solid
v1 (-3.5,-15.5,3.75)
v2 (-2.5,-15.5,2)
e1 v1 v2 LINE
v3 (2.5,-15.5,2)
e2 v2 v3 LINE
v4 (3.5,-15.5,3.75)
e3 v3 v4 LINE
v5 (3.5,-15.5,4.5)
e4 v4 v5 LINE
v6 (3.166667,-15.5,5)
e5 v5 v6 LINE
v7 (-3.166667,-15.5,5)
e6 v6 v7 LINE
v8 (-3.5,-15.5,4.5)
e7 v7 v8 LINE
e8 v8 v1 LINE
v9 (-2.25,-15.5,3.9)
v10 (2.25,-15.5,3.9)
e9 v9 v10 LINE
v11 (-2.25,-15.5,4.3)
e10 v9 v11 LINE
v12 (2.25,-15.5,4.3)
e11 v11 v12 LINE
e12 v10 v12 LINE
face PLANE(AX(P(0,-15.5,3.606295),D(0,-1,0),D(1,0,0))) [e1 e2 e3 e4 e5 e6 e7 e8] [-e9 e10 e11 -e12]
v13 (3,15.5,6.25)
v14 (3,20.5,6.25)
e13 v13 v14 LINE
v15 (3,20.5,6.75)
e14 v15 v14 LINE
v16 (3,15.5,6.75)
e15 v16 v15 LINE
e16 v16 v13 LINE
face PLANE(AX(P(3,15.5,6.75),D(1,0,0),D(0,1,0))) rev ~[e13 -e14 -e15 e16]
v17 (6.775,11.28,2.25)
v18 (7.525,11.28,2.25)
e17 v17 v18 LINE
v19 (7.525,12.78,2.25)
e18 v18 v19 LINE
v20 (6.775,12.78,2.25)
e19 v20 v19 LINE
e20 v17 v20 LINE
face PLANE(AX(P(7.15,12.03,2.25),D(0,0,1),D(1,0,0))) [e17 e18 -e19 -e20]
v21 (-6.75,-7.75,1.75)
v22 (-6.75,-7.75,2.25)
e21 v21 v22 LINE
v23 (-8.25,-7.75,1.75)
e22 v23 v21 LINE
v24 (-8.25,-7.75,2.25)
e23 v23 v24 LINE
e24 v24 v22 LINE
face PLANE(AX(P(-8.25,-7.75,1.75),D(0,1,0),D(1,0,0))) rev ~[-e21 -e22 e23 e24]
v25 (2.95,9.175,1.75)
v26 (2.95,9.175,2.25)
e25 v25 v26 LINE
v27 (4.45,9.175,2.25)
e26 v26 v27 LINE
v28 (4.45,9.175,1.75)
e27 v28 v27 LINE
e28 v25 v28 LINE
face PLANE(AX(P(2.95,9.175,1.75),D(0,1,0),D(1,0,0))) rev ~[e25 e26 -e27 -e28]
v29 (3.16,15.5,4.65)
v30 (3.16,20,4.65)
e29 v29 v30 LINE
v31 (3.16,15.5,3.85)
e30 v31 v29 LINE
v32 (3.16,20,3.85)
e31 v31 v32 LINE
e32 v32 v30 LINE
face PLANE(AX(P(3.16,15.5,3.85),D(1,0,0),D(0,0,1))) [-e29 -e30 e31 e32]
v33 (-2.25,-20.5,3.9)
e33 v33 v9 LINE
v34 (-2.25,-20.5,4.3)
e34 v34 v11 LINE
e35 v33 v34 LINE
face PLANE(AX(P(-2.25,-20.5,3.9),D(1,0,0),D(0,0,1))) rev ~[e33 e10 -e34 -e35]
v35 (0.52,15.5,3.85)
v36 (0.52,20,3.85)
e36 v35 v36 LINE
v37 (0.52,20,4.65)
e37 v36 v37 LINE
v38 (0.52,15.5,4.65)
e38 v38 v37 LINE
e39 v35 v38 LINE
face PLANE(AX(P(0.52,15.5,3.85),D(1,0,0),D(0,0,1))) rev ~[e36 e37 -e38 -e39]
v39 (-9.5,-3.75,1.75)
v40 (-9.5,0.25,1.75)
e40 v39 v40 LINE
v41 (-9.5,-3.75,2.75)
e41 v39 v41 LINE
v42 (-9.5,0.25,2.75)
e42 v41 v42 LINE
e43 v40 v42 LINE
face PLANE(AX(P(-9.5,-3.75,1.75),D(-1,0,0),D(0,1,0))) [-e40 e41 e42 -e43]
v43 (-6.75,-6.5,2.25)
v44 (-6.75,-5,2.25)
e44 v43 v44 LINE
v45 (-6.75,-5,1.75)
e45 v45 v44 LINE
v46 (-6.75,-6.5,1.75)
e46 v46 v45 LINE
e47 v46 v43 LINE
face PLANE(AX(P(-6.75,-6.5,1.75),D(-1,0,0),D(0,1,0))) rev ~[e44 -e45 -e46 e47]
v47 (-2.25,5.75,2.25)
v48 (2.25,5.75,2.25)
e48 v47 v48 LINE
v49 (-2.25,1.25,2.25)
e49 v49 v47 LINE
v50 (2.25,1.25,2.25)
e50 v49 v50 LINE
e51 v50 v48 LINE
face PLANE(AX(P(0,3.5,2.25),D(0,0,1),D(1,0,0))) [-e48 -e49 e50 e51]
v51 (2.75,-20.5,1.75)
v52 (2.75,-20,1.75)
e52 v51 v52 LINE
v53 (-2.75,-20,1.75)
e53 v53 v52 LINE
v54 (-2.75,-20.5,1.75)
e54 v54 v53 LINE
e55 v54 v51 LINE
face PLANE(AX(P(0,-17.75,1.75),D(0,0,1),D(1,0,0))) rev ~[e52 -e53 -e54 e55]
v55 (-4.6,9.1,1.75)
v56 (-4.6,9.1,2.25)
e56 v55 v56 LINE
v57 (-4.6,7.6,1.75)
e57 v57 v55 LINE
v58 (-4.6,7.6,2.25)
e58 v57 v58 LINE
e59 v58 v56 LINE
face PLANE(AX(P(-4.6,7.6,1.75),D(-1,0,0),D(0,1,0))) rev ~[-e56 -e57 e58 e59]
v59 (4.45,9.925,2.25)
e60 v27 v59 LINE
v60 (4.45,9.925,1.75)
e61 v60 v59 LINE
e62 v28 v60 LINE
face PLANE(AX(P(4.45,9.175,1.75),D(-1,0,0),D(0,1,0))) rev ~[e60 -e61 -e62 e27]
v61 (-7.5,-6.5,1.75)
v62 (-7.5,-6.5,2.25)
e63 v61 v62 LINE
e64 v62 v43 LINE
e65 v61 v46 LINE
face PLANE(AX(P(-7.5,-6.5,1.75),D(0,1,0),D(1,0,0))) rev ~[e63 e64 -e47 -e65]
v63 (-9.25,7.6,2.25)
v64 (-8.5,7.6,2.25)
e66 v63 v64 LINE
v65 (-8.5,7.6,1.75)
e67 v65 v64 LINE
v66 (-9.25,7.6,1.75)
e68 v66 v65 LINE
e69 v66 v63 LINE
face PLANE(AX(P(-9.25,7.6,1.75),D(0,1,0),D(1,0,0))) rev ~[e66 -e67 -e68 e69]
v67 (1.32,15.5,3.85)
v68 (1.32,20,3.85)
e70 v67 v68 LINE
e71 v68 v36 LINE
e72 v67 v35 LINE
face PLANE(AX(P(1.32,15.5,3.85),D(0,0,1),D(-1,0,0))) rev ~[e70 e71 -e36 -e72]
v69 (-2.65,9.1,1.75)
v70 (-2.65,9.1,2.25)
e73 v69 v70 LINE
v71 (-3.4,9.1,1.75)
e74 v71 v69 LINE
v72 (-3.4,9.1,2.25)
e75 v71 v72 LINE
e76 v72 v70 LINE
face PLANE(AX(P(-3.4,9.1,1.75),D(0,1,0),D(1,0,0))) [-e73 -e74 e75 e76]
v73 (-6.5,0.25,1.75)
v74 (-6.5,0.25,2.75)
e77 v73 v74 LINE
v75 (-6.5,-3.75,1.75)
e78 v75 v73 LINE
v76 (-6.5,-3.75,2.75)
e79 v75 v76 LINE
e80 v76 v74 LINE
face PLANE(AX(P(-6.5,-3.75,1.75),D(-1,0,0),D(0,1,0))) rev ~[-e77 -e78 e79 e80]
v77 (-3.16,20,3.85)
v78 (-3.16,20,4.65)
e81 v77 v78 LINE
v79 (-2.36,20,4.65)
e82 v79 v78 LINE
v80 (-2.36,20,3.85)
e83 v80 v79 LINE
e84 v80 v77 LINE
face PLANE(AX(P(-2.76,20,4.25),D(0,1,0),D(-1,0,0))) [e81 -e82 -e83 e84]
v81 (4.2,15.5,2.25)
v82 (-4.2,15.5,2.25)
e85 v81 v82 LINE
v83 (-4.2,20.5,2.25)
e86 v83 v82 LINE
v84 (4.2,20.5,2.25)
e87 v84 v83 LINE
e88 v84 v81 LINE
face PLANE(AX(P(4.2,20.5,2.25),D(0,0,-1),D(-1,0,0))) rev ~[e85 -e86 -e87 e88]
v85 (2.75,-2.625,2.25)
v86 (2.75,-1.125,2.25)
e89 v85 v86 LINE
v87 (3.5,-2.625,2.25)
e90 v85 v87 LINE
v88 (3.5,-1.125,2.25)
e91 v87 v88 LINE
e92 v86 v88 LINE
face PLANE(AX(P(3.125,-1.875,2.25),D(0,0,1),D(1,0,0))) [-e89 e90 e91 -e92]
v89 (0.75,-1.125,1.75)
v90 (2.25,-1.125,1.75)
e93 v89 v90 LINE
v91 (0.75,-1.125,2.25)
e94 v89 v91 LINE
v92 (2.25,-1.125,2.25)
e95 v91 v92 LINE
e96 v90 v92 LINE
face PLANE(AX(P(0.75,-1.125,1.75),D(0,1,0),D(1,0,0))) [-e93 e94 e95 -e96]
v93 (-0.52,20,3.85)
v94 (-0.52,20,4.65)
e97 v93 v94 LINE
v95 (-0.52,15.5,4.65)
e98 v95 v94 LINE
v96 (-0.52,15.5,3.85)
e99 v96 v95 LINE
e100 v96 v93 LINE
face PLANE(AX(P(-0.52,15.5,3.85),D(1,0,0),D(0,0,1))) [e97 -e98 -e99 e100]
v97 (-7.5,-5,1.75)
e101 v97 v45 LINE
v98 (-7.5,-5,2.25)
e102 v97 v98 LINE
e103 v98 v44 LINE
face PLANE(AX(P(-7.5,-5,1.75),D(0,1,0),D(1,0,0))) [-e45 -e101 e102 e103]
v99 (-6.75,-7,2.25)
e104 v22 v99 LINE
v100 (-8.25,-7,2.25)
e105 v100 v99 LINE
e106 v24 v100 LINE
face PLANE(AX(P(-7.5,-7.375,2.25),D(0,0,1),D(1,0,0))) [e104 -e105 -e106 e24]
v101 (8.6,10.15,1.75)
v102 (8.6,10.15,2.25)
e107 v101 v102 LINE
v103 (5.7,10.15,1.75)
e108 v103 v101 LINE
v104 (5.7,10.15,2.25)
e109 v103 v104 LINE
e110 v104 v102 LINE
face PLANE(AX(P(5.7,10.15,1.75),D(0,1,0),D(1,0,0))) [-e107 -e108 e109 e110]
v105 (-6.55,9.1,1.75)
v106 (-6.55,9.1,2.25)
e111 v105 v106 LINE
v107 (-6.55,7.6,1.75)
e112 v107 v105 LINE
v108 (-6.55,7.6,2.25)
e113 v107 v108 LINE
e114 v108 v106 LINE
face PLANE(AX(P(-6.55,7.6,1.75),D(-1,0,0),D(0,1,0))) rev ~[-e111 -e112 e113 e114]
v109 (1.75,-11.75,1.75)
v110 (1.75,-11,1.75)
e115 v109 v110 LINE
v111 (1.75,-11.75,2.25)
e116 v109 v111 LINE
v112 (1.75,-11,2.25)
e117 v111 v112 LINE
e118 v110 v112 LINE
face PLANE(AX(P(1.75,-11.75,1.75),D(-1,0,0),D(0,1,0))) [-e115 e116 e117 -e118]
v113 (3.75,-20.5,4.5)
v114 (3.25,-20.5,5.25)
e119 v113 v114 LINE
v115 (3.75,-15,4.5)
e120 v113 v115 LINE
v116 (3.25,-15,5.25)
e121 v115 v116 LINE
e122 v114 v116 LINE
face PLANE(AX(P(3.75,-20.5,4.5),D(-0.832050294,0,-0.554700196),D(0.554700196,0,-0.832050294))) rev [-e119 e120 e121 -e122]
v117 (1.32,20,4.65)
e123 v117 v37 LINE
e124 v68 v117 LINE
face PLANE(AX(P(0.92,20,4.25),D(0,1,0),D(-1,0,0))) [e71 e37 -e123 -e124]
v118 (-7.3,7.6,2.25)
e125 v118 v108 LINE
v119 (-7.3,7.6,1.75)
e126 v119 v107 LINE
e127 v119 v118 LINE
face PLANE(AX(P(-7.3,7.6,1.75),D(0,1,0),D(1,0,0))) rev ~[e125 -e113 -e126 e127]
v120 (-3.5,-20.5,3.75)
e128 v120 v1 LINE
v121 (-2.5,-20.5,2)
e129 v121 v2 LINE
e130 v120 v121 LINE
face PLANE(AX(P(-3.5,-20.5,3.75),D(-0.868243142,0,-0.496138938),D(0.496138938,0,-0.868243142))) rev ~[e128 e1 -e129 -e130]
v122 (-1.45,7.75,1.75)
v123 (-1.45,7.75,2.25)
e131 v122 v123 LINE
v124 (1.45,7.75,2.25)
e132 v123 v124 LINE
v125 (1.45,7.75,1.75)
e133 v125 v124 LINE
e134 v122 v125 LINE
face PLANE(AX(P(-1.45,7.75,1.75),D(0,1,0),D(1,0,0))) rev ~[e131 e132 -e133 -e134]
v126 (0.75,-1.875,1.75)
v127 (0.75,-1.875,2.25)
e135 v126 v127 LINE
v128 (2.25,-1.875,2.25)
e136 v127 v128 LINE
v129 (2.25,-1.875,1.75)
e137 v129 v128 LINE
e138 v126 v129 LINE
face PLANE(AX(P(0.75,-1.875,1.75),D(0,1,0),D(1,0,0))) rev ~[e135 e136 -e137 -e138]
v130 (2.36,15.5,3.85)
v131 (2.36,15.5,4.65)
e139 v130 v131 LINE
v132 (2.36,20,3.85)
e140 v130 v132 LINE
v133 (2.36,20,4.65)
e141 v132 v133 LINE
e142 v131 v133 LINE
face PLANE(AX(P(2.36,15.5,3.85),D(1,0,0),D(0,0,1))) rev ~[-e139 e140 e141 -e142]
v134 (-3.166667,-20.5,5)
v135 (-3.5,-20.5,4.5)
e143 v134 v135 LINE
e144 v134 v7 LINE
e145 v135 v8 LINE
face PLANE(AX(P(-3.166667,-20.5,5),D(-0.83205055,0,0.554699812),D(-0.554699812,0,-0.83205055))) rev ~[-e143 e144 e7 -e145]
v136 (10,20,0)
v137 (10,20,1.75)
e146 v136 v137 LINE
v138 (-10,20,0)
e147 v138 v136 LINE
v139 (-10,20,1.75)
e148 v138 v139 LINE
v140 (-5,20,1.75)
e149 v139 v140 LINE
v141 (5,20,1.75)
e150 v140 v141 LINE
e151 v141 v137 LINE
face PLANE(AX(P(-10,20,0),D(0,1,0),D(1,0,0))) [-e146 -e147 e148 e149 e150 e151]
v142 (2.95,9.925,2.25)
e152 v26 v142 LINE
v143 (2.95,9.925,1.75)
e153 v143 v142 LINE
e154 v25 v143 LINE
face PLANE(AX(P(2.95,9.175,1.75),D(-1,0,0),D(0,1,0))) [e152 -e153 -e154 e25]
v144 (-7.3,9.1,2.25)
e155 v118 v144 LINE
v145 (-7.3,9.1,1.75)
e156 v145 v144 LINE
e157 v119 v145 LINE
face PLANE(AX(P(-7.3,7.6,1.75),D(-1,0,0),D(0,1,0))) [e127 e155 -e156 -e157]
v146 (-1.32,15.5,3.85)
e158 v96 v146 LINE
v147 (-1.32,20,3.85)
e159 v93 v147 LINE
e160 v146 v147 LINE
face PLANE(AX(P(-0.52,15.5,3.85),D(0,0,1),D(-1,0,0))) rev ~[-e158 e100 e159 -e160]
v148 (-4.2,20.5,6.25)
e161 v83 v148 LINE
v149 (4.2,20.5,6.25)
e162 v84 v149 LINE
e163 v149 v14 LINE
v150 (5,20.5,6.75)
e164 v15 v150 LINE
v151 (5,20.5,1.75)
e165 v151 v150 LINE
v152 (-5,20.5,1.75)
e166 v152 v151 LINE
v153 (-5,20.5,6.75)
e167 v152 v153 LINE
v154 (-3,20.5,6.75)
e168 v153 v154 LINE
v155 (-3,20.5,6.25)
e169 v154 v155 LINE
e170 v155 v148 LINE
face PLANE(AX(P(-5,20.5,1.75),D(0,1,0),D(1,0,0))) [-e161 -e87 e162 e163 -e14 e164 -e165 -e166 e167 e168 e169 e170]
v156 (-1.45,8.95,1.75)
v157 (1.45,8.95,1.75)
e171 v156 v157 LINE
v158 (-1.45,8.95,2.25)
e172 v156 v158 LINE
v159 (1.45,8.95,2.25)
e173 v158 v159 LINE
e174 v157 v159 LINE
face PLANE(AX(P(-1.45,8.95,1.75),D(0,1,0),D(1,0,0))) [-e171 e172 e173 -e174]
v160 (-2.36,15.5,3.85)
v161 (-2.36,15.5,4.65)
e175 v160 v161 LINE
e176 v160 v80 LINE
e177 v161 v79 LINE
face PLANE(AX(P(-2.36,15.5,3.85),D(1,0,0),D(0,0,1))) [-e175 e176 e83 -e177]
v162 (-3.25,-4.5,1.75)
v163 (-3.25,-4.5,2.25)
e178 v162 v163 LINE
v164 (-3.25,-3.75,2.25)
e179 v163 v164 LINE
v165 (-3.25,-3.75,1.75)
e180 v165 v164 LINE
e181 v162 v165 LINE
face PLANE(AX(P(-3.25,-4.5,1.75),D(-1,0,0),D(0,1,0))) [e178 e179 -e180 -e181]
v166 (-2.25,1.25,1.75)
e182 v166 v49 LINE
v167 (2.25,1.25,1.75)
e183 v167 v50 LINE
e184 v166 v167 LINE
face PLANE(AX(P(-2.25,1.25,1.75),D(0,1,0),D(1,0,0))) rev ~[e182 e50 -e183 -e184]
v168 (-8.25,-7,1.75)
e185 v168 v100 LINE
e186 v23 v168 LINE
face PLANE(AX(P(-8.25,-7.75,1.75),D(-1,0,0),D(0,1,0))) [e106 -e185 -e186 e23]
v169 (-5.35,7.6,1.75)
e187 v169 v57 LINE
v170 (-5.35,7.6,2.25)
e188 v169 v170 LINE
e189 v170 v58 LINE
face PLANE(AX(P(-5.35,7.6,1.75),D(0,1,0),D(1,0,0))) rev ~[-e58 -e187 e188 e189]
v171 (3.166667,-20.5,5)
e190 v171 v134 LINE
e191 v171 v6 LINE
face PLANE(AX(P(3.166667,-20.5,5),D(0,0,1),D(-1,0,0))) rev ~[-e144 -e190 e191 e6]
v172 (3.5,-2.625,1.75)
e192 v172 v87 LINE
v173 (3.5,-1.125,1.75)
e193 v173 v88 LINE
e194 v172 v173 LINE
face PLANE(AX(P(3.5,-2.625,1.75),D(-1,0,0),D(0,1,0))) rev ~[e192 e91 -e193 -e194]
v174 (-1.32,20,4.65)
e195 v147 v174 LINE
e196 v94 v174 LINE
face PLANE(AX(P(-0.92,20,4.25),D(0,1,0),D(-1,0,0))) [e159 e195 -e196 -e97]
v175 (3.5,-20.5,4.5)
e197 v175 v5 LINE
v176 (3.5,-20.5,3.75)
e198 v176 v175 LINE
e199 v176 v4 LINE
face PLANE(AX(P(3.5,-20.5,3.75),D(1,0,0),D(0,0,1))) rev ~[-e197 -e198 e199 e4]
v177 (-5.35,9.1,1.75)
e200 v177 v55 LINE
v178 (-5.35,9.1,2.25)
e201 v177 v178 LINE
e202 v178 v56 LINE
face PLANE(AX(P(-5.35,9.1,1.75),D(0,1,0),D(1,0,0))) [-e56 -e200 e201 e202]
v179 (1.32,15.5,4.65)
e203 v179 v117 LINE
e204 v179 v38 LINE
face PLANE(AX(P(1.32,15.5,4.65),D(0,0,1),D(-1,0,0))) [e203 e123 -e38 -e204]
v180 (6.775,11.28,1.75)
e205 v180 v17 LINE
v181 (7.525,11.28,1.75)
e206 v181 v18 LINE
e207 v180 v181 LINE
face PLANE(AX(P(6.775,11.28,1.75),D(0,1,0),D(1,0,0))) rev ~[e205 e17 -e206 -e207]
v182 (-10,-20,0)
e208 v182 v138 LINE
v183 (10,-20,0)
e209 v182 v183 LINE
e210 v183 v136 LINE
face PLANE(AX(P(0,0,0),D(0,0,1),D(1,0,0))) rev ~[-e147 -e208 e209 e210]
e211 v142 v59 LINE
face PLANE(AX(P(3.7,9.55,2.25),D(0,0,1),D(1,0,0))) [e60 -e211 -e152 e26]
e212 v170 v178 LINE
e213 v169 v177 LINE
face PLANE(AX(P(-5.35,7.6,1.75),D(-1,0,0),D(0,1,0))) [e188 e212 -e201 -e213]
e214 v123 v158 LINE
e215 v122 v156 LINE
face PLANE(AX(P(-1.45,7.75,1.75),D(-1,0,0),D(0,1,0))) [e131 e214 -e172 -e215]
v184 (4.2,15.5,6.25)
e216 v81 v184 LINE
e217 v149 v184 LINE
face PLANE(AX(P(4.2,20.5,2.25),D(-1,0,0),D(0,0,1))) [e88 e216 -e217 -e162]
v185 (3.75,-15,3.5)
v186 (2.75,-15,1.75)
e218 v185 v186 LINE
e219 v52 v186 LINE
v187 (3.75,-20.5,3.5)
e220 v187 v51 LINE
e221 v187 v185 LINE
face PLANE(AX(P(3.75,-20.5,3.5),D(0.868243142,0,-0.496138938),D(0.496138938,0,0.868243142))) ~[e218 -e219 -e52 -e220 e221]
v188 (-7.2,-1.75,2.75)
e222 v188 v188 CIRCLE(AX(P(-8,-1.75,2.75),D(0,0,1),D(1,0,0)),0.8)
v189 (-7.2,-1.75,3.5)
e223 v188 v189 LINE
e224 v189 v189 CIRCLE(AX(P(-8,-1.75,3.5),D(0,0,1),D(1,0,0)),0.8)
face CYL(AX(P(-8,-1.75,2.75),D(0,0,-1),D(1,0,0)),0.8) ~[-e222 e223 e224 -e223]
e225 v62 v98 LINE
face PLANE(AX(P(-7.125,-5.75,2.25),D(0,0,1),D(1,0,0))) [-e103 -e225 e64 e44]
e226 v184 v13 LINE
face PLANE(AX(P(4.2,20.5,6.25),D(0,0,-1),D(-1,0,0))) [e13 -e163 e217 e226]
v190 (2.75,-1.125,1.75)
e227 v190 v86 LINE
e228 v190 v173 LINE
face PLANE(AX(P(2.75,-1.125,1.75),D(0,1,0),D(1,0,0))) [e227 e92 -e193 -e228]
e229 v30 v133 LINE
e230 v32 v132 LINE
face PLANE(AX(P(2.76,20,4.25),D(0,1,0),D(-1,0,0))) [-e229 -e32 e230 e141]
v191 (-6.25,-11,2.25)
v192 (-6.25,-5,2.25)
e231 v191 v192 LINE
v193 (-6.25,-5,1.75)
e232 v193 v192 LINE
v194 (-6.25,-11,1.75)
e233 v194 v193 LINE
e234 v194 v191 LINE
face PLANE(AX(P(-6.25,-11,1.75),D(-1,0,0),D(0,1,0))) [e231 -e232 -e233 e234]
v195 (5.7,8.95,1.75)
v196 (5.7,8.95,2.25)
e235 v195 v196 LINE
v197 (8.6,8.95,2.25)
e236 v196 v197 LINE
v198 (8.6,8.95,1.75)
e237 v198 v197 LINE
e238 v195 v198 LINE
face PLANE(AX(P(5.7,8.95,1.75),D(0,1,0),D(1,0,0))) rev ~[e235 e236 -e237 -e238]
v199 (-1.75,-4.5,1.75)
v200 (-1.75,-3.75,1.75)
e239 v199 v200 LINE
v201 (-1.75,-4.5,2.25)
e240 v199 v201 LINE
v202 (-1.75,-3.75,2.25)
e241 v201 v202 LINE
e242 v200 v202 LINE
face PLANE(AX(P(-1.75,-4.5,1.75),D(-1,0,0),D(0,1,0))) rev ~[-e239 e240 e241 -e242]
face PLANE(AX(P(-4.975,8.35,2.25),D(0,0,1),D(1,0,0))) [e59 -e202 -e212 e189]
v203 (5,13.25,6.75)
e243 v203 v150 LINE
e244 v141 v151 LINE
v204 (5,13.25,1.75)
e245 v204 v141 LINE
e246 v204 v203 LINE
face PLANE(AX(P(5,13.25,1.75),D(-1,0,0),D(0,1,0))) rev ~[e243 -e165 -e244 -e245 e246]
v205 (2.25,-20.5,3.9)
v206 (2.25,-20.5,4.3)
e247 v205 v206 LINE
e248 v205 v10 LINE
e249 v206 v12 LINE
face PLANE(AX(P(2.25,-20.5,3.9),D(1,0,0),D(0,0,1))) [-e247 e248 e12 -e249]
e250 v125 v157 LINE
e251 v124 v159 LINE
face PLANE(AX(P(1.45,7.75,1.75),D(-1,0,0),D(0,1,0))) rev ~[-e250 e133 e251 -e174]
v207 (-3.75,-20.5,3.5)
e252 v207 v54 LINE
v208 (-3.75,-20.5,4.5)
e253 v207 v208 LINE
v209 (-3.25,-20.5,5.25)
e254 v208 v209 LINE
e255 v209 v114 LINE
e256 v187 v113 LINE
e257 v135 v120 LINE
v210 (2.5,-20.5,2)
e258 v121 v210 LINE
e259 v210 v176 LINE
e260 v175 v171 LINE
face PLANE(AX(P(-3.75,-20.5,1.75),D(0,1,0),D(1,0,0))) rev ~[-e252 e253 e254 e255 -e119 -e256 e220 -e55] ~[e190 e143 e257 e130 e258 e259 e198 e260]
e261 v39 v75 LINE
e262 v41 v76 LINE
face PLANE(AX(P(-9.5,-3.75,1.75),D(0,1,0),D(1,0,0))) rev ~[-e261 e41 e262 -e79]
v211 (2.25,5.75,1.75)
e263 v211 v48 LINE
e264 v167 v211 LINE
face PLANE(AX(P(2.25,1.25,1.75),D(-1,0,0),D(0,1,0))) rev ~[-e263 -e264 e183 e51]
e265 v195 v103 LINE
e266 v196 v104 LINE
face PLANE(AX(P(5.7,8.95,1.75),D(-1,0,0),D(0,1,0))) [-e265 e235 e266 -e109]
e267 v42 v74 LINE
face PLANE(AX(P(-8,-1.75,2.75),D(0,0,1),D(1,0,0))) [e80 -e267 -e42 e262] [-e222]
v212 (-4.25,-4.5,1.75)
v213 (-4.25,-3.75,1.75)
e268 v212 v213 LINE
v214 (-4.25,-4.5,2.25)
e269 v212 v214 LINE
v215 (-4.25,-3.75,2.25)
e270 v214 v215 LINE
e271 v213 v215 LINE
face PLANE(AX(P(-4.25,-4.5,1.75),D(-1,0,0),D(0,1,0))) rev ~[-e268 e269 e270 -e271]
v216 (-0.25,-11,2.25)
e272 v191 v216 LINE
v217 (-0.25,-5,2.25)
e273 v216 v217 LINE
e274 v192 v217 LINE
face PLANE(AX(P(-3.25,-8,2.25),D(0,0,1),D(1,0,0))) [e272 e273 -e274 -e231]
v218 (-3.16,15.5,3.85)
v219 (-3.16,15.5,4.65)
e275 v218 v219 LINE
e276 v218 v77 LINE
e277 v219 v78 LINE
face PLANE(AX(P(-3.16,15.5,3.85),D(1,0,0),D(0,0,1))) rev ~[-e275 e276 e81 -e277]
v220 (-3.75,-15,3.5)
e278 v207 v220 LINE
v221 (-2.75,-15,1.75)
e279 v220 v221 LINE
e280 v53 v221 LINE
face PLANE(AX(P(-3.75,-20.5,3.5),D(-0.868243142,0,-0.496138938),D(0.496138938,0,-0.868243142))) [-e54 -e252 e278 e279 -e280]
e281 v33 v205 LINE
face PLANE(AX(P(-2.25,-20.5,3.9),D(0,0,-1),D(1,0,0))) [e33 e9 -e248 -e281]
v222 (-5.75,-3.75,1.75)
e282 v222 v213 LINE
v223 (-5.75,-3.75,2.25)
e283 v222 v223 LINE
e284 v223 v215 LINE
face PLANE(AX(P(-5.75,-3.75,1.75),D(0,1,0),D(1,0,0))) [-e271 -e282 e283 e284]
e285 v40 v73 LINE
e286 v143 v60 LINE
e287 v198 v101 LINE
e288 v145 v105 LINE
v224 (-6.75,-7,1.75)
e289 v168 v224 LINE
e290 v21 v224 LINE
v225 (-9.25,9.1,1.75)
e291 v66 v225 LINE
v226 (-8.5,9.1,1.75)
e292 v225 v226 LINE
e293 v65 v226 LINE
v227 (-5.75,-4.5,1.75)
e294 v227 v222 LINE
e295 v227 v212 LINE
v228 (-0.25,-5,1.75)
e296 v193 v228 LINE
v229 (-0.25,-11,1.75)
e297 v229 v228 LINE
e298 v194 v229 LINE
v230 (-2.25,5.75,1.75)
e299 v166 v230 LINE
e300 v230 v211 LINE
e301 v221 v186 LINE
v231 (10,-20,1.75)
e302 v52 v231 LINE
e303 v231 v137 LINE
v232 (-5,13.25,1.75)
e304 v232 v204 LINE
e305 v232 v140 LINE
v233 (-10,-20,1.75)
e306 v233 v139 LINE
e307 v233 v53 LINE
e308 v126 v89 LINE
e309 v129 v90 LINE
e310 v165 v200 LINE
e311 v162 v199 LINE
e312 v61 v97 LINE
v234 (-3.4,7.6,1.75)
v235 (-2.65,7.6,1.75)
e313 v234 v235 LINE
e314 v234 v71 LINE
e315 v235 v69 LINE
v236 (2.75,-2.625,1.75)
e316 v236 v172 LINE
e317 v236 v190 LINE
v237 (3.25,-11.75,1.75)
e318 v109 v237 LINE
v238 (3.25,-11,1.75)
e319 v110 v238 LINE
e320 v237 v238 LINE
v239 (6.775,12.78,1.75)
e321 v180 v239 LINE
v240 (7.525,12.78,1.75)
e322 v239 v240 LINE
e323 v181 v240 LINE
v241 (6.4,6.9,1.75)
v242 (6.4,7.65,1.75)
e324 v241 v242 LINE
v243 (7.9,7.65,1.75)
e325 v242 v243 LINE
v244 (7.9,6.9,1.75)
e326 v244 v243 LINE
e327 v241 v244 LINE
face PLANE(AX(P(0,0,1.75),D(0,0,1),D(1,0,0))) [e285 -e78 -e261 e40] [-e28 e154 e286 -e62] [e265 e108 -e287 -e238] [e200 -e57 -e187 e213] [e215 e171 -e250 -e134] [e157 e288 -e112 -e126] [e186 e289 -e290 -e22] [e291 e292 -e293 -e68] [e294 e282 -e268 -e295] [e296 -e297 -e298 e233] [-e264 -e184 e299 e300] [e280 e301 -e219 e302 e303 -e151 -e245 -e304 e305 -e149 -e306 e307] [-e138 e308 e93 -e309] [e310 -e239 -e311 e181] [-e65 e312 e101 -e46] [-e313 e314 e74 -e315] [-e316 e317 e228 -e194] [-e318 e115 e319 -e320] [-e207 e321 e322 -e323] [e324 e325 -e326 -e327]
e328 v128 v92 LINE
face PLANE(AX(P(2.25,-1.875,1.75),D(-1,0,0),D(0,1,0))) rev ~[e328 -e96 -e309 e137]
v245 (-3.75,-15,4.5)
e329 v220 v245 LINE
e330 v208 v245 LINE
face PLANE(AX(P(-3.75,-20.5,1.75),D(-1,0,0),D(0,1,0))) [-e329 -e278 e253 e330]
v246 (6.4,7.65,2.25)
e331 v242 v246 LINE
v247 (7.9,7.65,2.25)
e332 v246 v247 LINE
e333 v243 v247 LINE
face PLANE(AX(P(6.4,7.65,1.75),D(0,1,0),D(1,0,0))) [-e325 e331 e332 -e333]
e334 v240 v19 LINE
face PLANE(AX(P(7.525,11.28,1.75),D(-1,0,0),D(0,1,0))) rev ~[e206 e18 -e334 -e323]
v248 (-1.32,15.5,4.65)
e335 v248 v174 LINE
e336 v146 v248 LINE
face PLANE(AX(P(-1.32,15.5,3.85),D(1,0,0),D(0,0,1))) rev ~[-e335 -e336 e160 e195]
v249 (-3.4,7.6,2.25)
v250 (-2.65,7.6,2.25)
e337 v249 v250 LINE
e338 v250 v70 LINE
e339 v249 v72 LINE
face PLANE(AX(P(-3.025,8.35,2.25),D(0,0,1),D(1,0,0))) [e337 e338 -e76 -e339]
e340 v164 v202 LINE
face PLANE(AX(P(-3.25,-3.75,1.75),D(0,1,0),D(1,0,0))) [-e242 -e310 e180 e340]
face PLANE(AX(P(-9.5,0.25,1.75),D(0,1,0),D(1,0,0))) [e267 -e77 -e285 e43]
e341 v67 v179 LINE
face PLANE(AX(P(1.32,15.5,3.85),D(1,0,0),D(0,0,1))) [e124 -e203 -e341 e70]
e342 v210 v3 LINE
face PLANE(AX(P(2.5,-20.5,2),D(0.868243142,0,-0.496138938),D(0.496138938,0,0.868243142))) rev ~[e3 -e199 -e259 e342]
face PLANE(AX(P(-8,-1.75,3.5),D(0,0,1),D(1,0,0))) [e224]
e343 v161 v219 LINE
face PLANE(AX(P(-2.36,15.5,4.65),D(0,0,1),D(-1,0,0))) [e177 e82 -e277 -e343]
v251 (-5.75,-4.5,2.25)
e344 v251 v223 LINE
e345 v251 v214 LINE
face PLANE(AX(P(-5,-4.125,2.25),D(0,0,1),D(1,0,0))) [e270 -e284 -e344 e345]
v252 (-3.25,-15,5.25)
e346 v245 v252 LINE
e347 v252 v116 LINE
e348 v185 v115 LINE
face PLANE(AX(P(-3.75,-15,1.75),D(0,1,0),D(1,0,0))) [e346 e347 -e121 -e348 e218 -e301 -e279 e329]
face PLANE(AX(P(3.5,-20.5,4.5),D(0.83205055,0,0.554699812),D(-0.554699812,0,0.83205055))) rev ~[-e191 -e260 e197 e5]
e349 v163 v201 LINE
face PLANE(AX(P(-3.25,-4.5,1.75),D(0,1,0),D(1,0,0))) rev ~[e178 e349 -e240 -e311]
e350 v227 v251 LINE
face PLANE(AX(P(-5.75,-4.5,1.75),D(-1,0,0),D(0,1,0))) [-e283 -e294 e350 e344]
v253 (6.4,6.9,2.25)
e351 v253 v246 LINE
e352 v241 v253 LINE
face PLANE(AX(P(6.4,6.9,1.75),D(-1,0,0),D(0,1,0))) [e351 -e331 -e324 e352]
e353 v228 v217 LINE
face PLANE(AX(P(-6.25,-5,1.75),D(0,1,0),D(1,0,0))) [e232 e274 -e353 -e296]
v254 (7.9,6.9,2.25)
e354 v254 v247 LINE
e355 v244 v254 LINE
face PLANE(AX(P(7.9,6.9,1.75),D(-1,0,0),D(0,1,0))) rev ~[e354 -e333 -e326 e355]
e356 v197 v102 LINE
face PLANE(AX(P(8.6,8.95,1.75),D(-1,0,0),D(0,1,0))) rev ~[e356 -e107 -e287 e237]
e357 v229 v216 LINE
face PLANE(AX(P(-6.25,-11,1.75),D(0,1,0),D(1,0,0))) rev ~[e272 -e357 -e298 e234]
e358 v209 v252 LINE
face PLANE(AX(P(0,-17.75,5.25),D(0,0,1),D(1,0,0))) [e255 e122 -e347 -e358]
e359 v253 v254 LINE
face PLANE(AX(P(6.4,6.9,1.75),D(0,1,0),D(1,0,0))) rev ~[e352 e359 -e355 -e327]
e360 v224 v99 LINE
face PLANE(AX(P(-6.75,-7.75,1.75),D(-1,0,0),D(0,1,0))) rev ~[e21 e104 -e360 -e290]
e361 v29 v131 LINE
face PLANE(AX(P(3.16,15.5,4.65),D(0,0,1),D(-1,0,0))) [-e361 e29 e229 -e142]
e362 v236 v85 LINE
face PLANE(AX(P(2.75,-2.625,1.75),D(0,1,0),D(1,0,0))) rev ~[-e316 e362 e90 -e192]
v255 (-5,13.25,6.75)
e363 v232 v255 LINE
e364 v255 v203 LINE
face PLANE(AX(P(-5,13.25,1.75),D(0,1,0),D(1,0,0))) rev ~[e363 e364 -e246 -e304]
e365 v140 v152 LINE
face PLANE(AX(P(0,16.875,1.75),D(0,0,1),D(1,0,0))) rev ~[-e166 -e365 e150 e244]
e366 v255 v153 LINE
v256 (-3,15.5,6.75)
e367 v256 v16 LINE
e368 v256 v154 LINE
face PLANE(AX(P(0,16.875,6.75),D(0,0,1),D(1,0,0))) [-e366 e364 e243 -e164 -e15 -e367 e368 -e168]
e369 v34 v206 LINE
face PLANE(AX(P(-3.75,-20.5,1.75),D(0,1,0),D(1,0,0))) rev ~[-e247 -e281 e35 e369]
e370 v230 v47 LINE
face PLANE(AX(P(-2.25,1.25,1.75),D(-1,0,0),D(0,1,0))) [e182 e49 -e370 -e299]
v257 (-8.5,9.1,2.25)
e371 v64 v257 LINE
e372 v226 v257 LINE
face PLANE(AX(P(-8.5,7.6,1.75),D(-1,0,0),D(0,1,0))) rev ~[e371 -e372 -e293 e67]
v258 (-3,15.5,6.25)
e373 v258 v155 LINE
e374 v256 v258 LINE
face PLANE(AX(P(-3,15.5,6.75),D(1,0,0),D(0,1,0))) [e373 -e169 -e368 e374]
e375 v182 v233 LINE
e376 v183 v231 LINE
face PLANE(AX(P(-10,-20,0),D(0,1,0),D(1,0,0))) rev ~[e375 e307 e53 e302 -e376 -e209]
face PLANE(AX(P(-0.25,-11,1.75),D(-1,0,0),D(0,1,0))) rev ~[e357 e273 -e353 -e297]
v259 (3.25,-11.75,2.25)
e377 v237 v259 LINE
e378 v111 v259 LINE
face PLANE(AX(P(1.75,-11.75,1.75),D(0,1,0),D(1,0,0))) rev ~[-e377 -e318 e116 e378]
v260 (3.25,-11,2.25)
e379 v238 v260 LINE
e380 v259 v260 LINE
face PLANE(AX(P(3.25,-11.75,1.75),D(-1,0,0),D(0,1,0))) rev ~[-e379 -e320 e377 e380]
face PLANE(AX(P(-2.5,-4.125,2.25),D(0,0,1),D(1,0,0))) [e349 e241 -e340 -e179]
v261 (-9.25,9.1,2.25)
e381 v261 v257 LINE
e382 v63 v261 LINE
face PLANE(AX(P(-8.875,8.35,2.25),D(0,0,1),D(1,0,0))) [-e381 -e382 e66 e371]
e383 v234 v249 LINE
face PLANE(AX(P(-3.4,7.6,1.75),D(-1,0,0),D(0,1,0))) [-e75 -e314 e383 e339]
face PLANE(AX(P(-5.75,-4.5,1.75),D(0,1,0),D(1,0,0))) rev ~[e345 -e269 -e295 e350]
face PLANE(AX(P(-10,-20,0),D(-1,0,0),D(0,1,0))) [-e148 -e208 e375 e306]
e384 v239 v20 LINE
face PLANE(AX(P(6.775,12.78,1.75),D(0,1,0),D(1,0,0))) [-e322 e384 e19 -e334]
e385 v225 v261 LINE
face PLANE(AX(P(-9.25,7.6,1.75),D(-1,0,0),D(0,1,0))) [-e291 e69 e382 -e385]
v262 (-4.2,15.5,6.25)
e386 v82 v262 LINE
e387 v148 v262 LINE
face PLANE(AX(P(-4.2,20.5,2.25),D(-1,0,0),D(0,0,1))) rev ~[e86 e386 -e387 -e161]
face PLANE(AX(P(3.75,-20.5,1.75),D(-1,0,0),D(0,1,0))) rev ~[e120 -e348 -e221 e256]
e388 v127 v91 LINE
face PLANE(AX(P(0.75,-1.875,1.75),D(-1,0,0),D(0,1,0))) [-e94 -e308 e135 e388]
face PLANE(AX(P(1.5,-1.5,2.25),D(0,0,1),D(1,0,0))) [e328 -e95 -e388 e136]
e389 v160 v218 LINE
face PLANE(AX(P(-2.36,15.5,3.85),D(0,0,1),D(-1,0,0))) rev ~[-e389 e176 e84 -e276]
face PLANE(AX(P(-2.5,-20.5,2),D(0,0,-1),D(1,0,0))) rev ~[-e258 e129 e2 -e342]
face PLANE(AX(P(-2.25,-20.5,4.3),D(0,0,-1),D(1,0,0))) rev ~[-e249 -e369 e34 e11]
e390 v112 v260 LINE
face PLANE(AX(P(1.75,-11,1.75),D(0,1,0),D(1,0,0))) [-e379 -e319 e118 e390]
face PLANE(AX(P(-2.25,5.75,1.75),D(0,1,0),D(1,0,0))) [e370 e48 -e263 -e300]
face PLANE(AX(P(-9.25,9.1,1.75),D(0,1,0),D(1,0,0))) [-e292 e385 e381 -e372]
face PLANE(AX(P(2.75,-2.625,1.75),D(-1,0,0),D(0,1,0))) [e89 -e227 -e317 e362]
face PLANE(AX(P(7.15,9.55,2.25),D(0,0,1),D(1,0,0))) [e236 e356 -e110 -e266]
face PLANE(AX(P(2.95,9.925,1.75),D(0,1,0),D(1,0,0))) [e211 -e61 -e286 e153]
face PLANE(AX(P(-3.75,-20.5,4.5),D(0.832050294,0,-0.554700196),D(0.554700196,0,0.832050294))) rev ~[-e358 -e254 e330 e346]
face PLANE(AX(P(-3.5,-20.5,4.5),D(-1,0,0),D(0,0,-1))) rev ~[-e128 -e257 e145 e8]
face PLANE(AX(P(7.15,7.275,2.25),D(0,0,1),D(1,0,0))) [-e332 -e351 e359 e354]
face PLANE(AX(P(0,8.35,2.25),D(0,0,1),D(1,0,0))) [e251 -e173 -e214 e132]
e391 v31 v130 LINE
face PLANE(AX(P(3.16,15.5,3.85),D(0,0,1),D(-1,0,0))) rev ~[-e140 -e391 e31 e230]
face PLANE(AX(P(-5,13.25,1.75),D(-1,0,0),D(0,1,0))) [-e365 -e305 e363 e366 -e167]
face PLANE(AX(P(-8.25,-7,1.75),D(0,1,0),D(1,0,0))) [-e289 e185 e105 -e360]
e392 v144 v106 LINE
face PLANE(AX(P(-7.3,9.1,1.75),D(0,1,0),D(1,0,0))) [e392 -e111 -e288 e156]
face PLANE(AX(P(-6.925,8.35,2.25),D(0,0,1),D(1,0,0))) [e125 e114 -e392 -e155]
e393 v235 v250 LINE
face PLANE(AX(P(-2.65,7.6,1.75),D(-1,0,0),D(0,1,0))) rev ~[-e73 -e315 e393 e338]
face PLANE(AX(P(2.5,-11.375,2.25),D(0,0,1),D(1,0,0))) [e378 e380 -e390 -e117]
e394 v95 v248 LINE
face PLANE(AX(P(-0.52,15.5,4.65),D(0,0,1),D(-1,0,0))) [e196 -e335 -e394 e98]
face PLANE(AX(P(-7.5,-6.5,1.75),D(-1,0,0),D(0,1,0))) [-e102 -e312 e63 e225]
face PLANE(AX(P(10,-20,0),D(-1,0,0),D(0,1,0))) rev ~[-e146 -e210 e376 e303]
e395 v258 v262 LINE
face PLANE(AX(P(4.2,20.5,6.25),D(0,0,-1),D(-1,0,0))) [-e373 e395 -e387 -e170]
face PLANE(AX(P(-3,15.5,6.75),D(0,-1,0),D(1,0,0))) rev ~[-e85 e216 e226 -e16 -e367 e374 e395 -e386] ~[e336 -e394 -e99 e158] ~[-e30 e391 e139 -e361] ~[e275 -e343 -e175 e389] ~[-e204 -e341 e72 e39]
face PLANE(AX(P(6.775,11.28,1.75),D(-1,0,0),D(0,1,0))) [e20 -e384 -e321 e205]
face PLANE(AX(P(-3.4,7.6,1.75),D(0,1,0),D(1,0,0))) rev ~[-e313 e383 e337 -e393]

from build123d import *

# Parameters (mm, degrees)
SKETCH_W        = 20
SKETCH_H        = 40
PAD_DEPTH       = 1.75
SKETCH001_W     = 7.5
SKETCH001_H     = 5.5
PAD001_DEPTH    = 3.5
POCKET_DEPTH    = 5.5
SKETCH003_W     = 4.5
SKETCH003_H     = 0.4
POCKET001_DEPTH = 5
SKETCH004_W     = 10
SKETCH004_H     = 7.25
PAD002_DEPTH    = 5
SKETCH005_W     = 8.4
SKETCH005_H     = 4
POCKET002_DEPTH = 5
SKETCH006_W     = 0.8
SKETCH006_H     = 0.8
PAD003_DEPTH    = 4.5
SKETCH007_W     = 6
SKETCH007_H     = 6
SKETCH007_W_2   = 4.5
SKETCH007_H_2   = 4.5
SKETCH007_W_3   = 0.75
SKETCH007_H_3   = 1.5
SKETCH007_W_4   = 2.9
SKETCH007_H_4   = 1.2
SKETCH007_W_5   = 1.5
SKETCH007_H_5   = 0.75
PAD004_DEPTH    = 0.5
SKETCH008_W     = 3
SKETCH008_H     = 4
PAD005_DEPTH    = 1
SKETCH009_R     = 0.8
PAD006_DEPTH    = 0.75
SKETCH010_W     = 6
SKETCH010_H     = 5
POCKET003_DEPTH = 0.5


with BuildPart() as part:
    # Sketch → Pad (new body)
    with BuildSketch(Plane.XY):
        Rectangle(SKETCH_W, SKETCH_H)
    extrude(amount=PAD_DEPTH)

    # Sketch001 (on Face6 of Pad) → Pad001 (join)
    with BuildSketch(Plane.XY.offset(1.75)):
        with Locations((0, -17.75)):
            Rectangle(SKETCH001_W, SKETCH001_H)
    extrude(amount=PAD001_DEPTH)

    # Sketch002 (on Face11 of Pad001) → Pocket (cut)
    with BuildSketch(Plane.XZ.offset(20.5)):
        Polygon((-3.75, 5.25), (-3.75, 4.5), (-3.25, 5.25), align=None)
        Polygon((-3.75, 1.75), (-3.75, 3.5), (-2.75, 1.75), align=None)
    pocket = extrude(amount=-POCKET_DEPTH, mode=Mode.SUBTRACT)

    # Mirrored: Pocket across YZ
    add(pocket.mirror(Plane.YZ), mode=Mode.SUBTRACT)

    # Sketch003 (on Face10 of Mirrored) → Pocket001 (cut)
    with BuildSketch(Plane.XZ.offset(20.5)):
        Polygon((-3.166667, 5), (-3.5, 4.5), (-3.5, 3.75), (-2.5, 2), (2.5, 2), (3.5, 3.75), (3.5, 4.5), (3.166667, 5), align=None)
        with Locations((0, 4.1)):
            Rectangle(SKETCH003_W, SKETCH003_H, mode=Mode.SUBTRACT)
    extrude(amount=-POCKET001_DEPTH, mode=Mode.SUBTRACT)

    # Sketch004 (on Face5 of Pocket001) → Pad002 (join)
    with BuildSketch(Plane.XY.offset(1.75)):
        with Locations((0, 16.875)):
            Rectangle(SKETCH004_W, SKETCH004_H)
    extrude(amount=PAD002_DEPTH)

    # Sketch005 (on Face15 of Pad002) → Pocket002 (cut)
    with BuildSketch(Plane(origin=(0, 20.5, 0), x_dir=(-1, 0, 0), z_dir=(0, 1, 0))):
        with Locations((0, 4.25)):
            Rectangle(SKETCH005_W, SKETCH005_H)
    extrude(amount=-POCKET002_DEPTH, mode=Mode.SUBTRACT)

    # Sketch006 (on Face35 of Pocket002) → Pad003 (join)
    with BuildSketch(Plane(origin=(0, 15.5, 0), x_dir=(-1, 0, 0), z_dir=(0, 1, 0))):
        with Locations((-2.76, 4.25)):
            Rectangle(SKETCH006_W, SKETCH006_H)
        with Locations((-0.92, 4.25)):
            Rectangle(SKETCH006_W, SKETCH006_H)
        with Locations((0.92, 4.25)):
            Rectangle(SKETCH006_W, SKETCH006_H)
        with Locations((2.76, 4.25)):
            Rectangle(SKETCH006_W, SKETCH006_H)
    extrude(amount=PAD003_DEPTH)

    # Sketch007 (on Face5 of Pad003) → Pad004 (join)
    with BuildSketch(Plane.XY.offset(1.75)):
        with Locations((-3.25, -8)):
            Rectangle(SKETCH007_W, SKETCH007_H)
        with Locations((0, 3.5)):
            Rectangle(SKETCH007_W_2, SKETCH007_H_2)
        with Locations((-8.875, 8.35)):
            Rectangle(SKETCH007_W_3, SKETCH007_H_3)
        with Locations((-6.925, 8.35)):
            Rectangle(SKETCH007_W_3, SKETCH007_H_3)
        with Locations((-4.975, 8.35)):
            Rectangle(SKETCH007_W_3, SKETCH007_H_3)
        with Locations((-3.025, 8.35)):
            Rectangle(SKETCH007_W_3, SKETCH007_H_3)
        with Locations((0, 8.35)):
            Rectangle(SKETCH007_W_4, SKETCH007_H_4)
        with Locations((3.7, 9.55)):
            Rectangle(SKETCH007_W_5, SKETCH007_H_5)
        with Locations((7.15, 9.55)):
            Rectangle(SKETCH007_W_4, SKETCH007_H_4)
        with Locations((7.15, 12.03)):
            Rectangle(SKETCH007_W_3, SKETCH007_H_3)
        with Locations((7.15, 7.275)):
            Rectangle(SKETCH007_W_5, SKETCH007_H_5)
        with Locations((-5, -4.125)):
            Rectangle(SKETCH007_W_5, SKETCH007_H_5)
        with Locations((-2.5, -4.125)):
            Rectangle(SKETCH007_W_5, SKETCH007_H_5)
        with Locations((2.5, -11.375)):
            Rectangle(SKETCH007_W_5, SKETCH007_H_5)
        with Locations((-7.125, -5.75)):
            Rectangle(SKETCH007_W_3, SKETCH007_H_3)
        with Locations((-7.5, -7.375)):
            Rectangle(SKETCH007_W_5, SKETCH007_H_5)
        with Locations((1.5, -1.5)):
            Rectangle(SKETCH007_W_5, SKETCH007_H_5)
        with Locations((3.125, -1.875)):
            Rectangle(SKETCH007_W_3, SKETCH007_H_3)
    extrude(amount=PAD004_DEPTH)

    # Sketch008 (on Face5 of Pad004) → Pad005 (join)
    with BuildSketch(Plane.XY.offset(1.75)):
        with Locations((-8, -1.75)):
            Rectangle(SKETCH008_W, SKETCH008_H)
    extrude(amount=PAD005_DEPTH)

    # Sketch009 (on Face103 of Pad005) → Pad006 (join)
    with BuildSketch(Plane.XY.offset(2.75)):
        with Locations((-8, -1.75)):
            Circle(SKETCH009_R)
    extrude(amount=PAD006_DEPTH)

    # Sketch010 (on Face94 of Pad006) → Pocket003 (cut)
    with BuildSketch(Plane.XY.offset(6.75)):
        with Locations((0, 18)):
            Rectangle(SKETCH010_W, SKETCH010_H)
    extrude(amount=-POCKET003_DEPTH, mode=Mode.SUBTRACT)


solid = part.part
